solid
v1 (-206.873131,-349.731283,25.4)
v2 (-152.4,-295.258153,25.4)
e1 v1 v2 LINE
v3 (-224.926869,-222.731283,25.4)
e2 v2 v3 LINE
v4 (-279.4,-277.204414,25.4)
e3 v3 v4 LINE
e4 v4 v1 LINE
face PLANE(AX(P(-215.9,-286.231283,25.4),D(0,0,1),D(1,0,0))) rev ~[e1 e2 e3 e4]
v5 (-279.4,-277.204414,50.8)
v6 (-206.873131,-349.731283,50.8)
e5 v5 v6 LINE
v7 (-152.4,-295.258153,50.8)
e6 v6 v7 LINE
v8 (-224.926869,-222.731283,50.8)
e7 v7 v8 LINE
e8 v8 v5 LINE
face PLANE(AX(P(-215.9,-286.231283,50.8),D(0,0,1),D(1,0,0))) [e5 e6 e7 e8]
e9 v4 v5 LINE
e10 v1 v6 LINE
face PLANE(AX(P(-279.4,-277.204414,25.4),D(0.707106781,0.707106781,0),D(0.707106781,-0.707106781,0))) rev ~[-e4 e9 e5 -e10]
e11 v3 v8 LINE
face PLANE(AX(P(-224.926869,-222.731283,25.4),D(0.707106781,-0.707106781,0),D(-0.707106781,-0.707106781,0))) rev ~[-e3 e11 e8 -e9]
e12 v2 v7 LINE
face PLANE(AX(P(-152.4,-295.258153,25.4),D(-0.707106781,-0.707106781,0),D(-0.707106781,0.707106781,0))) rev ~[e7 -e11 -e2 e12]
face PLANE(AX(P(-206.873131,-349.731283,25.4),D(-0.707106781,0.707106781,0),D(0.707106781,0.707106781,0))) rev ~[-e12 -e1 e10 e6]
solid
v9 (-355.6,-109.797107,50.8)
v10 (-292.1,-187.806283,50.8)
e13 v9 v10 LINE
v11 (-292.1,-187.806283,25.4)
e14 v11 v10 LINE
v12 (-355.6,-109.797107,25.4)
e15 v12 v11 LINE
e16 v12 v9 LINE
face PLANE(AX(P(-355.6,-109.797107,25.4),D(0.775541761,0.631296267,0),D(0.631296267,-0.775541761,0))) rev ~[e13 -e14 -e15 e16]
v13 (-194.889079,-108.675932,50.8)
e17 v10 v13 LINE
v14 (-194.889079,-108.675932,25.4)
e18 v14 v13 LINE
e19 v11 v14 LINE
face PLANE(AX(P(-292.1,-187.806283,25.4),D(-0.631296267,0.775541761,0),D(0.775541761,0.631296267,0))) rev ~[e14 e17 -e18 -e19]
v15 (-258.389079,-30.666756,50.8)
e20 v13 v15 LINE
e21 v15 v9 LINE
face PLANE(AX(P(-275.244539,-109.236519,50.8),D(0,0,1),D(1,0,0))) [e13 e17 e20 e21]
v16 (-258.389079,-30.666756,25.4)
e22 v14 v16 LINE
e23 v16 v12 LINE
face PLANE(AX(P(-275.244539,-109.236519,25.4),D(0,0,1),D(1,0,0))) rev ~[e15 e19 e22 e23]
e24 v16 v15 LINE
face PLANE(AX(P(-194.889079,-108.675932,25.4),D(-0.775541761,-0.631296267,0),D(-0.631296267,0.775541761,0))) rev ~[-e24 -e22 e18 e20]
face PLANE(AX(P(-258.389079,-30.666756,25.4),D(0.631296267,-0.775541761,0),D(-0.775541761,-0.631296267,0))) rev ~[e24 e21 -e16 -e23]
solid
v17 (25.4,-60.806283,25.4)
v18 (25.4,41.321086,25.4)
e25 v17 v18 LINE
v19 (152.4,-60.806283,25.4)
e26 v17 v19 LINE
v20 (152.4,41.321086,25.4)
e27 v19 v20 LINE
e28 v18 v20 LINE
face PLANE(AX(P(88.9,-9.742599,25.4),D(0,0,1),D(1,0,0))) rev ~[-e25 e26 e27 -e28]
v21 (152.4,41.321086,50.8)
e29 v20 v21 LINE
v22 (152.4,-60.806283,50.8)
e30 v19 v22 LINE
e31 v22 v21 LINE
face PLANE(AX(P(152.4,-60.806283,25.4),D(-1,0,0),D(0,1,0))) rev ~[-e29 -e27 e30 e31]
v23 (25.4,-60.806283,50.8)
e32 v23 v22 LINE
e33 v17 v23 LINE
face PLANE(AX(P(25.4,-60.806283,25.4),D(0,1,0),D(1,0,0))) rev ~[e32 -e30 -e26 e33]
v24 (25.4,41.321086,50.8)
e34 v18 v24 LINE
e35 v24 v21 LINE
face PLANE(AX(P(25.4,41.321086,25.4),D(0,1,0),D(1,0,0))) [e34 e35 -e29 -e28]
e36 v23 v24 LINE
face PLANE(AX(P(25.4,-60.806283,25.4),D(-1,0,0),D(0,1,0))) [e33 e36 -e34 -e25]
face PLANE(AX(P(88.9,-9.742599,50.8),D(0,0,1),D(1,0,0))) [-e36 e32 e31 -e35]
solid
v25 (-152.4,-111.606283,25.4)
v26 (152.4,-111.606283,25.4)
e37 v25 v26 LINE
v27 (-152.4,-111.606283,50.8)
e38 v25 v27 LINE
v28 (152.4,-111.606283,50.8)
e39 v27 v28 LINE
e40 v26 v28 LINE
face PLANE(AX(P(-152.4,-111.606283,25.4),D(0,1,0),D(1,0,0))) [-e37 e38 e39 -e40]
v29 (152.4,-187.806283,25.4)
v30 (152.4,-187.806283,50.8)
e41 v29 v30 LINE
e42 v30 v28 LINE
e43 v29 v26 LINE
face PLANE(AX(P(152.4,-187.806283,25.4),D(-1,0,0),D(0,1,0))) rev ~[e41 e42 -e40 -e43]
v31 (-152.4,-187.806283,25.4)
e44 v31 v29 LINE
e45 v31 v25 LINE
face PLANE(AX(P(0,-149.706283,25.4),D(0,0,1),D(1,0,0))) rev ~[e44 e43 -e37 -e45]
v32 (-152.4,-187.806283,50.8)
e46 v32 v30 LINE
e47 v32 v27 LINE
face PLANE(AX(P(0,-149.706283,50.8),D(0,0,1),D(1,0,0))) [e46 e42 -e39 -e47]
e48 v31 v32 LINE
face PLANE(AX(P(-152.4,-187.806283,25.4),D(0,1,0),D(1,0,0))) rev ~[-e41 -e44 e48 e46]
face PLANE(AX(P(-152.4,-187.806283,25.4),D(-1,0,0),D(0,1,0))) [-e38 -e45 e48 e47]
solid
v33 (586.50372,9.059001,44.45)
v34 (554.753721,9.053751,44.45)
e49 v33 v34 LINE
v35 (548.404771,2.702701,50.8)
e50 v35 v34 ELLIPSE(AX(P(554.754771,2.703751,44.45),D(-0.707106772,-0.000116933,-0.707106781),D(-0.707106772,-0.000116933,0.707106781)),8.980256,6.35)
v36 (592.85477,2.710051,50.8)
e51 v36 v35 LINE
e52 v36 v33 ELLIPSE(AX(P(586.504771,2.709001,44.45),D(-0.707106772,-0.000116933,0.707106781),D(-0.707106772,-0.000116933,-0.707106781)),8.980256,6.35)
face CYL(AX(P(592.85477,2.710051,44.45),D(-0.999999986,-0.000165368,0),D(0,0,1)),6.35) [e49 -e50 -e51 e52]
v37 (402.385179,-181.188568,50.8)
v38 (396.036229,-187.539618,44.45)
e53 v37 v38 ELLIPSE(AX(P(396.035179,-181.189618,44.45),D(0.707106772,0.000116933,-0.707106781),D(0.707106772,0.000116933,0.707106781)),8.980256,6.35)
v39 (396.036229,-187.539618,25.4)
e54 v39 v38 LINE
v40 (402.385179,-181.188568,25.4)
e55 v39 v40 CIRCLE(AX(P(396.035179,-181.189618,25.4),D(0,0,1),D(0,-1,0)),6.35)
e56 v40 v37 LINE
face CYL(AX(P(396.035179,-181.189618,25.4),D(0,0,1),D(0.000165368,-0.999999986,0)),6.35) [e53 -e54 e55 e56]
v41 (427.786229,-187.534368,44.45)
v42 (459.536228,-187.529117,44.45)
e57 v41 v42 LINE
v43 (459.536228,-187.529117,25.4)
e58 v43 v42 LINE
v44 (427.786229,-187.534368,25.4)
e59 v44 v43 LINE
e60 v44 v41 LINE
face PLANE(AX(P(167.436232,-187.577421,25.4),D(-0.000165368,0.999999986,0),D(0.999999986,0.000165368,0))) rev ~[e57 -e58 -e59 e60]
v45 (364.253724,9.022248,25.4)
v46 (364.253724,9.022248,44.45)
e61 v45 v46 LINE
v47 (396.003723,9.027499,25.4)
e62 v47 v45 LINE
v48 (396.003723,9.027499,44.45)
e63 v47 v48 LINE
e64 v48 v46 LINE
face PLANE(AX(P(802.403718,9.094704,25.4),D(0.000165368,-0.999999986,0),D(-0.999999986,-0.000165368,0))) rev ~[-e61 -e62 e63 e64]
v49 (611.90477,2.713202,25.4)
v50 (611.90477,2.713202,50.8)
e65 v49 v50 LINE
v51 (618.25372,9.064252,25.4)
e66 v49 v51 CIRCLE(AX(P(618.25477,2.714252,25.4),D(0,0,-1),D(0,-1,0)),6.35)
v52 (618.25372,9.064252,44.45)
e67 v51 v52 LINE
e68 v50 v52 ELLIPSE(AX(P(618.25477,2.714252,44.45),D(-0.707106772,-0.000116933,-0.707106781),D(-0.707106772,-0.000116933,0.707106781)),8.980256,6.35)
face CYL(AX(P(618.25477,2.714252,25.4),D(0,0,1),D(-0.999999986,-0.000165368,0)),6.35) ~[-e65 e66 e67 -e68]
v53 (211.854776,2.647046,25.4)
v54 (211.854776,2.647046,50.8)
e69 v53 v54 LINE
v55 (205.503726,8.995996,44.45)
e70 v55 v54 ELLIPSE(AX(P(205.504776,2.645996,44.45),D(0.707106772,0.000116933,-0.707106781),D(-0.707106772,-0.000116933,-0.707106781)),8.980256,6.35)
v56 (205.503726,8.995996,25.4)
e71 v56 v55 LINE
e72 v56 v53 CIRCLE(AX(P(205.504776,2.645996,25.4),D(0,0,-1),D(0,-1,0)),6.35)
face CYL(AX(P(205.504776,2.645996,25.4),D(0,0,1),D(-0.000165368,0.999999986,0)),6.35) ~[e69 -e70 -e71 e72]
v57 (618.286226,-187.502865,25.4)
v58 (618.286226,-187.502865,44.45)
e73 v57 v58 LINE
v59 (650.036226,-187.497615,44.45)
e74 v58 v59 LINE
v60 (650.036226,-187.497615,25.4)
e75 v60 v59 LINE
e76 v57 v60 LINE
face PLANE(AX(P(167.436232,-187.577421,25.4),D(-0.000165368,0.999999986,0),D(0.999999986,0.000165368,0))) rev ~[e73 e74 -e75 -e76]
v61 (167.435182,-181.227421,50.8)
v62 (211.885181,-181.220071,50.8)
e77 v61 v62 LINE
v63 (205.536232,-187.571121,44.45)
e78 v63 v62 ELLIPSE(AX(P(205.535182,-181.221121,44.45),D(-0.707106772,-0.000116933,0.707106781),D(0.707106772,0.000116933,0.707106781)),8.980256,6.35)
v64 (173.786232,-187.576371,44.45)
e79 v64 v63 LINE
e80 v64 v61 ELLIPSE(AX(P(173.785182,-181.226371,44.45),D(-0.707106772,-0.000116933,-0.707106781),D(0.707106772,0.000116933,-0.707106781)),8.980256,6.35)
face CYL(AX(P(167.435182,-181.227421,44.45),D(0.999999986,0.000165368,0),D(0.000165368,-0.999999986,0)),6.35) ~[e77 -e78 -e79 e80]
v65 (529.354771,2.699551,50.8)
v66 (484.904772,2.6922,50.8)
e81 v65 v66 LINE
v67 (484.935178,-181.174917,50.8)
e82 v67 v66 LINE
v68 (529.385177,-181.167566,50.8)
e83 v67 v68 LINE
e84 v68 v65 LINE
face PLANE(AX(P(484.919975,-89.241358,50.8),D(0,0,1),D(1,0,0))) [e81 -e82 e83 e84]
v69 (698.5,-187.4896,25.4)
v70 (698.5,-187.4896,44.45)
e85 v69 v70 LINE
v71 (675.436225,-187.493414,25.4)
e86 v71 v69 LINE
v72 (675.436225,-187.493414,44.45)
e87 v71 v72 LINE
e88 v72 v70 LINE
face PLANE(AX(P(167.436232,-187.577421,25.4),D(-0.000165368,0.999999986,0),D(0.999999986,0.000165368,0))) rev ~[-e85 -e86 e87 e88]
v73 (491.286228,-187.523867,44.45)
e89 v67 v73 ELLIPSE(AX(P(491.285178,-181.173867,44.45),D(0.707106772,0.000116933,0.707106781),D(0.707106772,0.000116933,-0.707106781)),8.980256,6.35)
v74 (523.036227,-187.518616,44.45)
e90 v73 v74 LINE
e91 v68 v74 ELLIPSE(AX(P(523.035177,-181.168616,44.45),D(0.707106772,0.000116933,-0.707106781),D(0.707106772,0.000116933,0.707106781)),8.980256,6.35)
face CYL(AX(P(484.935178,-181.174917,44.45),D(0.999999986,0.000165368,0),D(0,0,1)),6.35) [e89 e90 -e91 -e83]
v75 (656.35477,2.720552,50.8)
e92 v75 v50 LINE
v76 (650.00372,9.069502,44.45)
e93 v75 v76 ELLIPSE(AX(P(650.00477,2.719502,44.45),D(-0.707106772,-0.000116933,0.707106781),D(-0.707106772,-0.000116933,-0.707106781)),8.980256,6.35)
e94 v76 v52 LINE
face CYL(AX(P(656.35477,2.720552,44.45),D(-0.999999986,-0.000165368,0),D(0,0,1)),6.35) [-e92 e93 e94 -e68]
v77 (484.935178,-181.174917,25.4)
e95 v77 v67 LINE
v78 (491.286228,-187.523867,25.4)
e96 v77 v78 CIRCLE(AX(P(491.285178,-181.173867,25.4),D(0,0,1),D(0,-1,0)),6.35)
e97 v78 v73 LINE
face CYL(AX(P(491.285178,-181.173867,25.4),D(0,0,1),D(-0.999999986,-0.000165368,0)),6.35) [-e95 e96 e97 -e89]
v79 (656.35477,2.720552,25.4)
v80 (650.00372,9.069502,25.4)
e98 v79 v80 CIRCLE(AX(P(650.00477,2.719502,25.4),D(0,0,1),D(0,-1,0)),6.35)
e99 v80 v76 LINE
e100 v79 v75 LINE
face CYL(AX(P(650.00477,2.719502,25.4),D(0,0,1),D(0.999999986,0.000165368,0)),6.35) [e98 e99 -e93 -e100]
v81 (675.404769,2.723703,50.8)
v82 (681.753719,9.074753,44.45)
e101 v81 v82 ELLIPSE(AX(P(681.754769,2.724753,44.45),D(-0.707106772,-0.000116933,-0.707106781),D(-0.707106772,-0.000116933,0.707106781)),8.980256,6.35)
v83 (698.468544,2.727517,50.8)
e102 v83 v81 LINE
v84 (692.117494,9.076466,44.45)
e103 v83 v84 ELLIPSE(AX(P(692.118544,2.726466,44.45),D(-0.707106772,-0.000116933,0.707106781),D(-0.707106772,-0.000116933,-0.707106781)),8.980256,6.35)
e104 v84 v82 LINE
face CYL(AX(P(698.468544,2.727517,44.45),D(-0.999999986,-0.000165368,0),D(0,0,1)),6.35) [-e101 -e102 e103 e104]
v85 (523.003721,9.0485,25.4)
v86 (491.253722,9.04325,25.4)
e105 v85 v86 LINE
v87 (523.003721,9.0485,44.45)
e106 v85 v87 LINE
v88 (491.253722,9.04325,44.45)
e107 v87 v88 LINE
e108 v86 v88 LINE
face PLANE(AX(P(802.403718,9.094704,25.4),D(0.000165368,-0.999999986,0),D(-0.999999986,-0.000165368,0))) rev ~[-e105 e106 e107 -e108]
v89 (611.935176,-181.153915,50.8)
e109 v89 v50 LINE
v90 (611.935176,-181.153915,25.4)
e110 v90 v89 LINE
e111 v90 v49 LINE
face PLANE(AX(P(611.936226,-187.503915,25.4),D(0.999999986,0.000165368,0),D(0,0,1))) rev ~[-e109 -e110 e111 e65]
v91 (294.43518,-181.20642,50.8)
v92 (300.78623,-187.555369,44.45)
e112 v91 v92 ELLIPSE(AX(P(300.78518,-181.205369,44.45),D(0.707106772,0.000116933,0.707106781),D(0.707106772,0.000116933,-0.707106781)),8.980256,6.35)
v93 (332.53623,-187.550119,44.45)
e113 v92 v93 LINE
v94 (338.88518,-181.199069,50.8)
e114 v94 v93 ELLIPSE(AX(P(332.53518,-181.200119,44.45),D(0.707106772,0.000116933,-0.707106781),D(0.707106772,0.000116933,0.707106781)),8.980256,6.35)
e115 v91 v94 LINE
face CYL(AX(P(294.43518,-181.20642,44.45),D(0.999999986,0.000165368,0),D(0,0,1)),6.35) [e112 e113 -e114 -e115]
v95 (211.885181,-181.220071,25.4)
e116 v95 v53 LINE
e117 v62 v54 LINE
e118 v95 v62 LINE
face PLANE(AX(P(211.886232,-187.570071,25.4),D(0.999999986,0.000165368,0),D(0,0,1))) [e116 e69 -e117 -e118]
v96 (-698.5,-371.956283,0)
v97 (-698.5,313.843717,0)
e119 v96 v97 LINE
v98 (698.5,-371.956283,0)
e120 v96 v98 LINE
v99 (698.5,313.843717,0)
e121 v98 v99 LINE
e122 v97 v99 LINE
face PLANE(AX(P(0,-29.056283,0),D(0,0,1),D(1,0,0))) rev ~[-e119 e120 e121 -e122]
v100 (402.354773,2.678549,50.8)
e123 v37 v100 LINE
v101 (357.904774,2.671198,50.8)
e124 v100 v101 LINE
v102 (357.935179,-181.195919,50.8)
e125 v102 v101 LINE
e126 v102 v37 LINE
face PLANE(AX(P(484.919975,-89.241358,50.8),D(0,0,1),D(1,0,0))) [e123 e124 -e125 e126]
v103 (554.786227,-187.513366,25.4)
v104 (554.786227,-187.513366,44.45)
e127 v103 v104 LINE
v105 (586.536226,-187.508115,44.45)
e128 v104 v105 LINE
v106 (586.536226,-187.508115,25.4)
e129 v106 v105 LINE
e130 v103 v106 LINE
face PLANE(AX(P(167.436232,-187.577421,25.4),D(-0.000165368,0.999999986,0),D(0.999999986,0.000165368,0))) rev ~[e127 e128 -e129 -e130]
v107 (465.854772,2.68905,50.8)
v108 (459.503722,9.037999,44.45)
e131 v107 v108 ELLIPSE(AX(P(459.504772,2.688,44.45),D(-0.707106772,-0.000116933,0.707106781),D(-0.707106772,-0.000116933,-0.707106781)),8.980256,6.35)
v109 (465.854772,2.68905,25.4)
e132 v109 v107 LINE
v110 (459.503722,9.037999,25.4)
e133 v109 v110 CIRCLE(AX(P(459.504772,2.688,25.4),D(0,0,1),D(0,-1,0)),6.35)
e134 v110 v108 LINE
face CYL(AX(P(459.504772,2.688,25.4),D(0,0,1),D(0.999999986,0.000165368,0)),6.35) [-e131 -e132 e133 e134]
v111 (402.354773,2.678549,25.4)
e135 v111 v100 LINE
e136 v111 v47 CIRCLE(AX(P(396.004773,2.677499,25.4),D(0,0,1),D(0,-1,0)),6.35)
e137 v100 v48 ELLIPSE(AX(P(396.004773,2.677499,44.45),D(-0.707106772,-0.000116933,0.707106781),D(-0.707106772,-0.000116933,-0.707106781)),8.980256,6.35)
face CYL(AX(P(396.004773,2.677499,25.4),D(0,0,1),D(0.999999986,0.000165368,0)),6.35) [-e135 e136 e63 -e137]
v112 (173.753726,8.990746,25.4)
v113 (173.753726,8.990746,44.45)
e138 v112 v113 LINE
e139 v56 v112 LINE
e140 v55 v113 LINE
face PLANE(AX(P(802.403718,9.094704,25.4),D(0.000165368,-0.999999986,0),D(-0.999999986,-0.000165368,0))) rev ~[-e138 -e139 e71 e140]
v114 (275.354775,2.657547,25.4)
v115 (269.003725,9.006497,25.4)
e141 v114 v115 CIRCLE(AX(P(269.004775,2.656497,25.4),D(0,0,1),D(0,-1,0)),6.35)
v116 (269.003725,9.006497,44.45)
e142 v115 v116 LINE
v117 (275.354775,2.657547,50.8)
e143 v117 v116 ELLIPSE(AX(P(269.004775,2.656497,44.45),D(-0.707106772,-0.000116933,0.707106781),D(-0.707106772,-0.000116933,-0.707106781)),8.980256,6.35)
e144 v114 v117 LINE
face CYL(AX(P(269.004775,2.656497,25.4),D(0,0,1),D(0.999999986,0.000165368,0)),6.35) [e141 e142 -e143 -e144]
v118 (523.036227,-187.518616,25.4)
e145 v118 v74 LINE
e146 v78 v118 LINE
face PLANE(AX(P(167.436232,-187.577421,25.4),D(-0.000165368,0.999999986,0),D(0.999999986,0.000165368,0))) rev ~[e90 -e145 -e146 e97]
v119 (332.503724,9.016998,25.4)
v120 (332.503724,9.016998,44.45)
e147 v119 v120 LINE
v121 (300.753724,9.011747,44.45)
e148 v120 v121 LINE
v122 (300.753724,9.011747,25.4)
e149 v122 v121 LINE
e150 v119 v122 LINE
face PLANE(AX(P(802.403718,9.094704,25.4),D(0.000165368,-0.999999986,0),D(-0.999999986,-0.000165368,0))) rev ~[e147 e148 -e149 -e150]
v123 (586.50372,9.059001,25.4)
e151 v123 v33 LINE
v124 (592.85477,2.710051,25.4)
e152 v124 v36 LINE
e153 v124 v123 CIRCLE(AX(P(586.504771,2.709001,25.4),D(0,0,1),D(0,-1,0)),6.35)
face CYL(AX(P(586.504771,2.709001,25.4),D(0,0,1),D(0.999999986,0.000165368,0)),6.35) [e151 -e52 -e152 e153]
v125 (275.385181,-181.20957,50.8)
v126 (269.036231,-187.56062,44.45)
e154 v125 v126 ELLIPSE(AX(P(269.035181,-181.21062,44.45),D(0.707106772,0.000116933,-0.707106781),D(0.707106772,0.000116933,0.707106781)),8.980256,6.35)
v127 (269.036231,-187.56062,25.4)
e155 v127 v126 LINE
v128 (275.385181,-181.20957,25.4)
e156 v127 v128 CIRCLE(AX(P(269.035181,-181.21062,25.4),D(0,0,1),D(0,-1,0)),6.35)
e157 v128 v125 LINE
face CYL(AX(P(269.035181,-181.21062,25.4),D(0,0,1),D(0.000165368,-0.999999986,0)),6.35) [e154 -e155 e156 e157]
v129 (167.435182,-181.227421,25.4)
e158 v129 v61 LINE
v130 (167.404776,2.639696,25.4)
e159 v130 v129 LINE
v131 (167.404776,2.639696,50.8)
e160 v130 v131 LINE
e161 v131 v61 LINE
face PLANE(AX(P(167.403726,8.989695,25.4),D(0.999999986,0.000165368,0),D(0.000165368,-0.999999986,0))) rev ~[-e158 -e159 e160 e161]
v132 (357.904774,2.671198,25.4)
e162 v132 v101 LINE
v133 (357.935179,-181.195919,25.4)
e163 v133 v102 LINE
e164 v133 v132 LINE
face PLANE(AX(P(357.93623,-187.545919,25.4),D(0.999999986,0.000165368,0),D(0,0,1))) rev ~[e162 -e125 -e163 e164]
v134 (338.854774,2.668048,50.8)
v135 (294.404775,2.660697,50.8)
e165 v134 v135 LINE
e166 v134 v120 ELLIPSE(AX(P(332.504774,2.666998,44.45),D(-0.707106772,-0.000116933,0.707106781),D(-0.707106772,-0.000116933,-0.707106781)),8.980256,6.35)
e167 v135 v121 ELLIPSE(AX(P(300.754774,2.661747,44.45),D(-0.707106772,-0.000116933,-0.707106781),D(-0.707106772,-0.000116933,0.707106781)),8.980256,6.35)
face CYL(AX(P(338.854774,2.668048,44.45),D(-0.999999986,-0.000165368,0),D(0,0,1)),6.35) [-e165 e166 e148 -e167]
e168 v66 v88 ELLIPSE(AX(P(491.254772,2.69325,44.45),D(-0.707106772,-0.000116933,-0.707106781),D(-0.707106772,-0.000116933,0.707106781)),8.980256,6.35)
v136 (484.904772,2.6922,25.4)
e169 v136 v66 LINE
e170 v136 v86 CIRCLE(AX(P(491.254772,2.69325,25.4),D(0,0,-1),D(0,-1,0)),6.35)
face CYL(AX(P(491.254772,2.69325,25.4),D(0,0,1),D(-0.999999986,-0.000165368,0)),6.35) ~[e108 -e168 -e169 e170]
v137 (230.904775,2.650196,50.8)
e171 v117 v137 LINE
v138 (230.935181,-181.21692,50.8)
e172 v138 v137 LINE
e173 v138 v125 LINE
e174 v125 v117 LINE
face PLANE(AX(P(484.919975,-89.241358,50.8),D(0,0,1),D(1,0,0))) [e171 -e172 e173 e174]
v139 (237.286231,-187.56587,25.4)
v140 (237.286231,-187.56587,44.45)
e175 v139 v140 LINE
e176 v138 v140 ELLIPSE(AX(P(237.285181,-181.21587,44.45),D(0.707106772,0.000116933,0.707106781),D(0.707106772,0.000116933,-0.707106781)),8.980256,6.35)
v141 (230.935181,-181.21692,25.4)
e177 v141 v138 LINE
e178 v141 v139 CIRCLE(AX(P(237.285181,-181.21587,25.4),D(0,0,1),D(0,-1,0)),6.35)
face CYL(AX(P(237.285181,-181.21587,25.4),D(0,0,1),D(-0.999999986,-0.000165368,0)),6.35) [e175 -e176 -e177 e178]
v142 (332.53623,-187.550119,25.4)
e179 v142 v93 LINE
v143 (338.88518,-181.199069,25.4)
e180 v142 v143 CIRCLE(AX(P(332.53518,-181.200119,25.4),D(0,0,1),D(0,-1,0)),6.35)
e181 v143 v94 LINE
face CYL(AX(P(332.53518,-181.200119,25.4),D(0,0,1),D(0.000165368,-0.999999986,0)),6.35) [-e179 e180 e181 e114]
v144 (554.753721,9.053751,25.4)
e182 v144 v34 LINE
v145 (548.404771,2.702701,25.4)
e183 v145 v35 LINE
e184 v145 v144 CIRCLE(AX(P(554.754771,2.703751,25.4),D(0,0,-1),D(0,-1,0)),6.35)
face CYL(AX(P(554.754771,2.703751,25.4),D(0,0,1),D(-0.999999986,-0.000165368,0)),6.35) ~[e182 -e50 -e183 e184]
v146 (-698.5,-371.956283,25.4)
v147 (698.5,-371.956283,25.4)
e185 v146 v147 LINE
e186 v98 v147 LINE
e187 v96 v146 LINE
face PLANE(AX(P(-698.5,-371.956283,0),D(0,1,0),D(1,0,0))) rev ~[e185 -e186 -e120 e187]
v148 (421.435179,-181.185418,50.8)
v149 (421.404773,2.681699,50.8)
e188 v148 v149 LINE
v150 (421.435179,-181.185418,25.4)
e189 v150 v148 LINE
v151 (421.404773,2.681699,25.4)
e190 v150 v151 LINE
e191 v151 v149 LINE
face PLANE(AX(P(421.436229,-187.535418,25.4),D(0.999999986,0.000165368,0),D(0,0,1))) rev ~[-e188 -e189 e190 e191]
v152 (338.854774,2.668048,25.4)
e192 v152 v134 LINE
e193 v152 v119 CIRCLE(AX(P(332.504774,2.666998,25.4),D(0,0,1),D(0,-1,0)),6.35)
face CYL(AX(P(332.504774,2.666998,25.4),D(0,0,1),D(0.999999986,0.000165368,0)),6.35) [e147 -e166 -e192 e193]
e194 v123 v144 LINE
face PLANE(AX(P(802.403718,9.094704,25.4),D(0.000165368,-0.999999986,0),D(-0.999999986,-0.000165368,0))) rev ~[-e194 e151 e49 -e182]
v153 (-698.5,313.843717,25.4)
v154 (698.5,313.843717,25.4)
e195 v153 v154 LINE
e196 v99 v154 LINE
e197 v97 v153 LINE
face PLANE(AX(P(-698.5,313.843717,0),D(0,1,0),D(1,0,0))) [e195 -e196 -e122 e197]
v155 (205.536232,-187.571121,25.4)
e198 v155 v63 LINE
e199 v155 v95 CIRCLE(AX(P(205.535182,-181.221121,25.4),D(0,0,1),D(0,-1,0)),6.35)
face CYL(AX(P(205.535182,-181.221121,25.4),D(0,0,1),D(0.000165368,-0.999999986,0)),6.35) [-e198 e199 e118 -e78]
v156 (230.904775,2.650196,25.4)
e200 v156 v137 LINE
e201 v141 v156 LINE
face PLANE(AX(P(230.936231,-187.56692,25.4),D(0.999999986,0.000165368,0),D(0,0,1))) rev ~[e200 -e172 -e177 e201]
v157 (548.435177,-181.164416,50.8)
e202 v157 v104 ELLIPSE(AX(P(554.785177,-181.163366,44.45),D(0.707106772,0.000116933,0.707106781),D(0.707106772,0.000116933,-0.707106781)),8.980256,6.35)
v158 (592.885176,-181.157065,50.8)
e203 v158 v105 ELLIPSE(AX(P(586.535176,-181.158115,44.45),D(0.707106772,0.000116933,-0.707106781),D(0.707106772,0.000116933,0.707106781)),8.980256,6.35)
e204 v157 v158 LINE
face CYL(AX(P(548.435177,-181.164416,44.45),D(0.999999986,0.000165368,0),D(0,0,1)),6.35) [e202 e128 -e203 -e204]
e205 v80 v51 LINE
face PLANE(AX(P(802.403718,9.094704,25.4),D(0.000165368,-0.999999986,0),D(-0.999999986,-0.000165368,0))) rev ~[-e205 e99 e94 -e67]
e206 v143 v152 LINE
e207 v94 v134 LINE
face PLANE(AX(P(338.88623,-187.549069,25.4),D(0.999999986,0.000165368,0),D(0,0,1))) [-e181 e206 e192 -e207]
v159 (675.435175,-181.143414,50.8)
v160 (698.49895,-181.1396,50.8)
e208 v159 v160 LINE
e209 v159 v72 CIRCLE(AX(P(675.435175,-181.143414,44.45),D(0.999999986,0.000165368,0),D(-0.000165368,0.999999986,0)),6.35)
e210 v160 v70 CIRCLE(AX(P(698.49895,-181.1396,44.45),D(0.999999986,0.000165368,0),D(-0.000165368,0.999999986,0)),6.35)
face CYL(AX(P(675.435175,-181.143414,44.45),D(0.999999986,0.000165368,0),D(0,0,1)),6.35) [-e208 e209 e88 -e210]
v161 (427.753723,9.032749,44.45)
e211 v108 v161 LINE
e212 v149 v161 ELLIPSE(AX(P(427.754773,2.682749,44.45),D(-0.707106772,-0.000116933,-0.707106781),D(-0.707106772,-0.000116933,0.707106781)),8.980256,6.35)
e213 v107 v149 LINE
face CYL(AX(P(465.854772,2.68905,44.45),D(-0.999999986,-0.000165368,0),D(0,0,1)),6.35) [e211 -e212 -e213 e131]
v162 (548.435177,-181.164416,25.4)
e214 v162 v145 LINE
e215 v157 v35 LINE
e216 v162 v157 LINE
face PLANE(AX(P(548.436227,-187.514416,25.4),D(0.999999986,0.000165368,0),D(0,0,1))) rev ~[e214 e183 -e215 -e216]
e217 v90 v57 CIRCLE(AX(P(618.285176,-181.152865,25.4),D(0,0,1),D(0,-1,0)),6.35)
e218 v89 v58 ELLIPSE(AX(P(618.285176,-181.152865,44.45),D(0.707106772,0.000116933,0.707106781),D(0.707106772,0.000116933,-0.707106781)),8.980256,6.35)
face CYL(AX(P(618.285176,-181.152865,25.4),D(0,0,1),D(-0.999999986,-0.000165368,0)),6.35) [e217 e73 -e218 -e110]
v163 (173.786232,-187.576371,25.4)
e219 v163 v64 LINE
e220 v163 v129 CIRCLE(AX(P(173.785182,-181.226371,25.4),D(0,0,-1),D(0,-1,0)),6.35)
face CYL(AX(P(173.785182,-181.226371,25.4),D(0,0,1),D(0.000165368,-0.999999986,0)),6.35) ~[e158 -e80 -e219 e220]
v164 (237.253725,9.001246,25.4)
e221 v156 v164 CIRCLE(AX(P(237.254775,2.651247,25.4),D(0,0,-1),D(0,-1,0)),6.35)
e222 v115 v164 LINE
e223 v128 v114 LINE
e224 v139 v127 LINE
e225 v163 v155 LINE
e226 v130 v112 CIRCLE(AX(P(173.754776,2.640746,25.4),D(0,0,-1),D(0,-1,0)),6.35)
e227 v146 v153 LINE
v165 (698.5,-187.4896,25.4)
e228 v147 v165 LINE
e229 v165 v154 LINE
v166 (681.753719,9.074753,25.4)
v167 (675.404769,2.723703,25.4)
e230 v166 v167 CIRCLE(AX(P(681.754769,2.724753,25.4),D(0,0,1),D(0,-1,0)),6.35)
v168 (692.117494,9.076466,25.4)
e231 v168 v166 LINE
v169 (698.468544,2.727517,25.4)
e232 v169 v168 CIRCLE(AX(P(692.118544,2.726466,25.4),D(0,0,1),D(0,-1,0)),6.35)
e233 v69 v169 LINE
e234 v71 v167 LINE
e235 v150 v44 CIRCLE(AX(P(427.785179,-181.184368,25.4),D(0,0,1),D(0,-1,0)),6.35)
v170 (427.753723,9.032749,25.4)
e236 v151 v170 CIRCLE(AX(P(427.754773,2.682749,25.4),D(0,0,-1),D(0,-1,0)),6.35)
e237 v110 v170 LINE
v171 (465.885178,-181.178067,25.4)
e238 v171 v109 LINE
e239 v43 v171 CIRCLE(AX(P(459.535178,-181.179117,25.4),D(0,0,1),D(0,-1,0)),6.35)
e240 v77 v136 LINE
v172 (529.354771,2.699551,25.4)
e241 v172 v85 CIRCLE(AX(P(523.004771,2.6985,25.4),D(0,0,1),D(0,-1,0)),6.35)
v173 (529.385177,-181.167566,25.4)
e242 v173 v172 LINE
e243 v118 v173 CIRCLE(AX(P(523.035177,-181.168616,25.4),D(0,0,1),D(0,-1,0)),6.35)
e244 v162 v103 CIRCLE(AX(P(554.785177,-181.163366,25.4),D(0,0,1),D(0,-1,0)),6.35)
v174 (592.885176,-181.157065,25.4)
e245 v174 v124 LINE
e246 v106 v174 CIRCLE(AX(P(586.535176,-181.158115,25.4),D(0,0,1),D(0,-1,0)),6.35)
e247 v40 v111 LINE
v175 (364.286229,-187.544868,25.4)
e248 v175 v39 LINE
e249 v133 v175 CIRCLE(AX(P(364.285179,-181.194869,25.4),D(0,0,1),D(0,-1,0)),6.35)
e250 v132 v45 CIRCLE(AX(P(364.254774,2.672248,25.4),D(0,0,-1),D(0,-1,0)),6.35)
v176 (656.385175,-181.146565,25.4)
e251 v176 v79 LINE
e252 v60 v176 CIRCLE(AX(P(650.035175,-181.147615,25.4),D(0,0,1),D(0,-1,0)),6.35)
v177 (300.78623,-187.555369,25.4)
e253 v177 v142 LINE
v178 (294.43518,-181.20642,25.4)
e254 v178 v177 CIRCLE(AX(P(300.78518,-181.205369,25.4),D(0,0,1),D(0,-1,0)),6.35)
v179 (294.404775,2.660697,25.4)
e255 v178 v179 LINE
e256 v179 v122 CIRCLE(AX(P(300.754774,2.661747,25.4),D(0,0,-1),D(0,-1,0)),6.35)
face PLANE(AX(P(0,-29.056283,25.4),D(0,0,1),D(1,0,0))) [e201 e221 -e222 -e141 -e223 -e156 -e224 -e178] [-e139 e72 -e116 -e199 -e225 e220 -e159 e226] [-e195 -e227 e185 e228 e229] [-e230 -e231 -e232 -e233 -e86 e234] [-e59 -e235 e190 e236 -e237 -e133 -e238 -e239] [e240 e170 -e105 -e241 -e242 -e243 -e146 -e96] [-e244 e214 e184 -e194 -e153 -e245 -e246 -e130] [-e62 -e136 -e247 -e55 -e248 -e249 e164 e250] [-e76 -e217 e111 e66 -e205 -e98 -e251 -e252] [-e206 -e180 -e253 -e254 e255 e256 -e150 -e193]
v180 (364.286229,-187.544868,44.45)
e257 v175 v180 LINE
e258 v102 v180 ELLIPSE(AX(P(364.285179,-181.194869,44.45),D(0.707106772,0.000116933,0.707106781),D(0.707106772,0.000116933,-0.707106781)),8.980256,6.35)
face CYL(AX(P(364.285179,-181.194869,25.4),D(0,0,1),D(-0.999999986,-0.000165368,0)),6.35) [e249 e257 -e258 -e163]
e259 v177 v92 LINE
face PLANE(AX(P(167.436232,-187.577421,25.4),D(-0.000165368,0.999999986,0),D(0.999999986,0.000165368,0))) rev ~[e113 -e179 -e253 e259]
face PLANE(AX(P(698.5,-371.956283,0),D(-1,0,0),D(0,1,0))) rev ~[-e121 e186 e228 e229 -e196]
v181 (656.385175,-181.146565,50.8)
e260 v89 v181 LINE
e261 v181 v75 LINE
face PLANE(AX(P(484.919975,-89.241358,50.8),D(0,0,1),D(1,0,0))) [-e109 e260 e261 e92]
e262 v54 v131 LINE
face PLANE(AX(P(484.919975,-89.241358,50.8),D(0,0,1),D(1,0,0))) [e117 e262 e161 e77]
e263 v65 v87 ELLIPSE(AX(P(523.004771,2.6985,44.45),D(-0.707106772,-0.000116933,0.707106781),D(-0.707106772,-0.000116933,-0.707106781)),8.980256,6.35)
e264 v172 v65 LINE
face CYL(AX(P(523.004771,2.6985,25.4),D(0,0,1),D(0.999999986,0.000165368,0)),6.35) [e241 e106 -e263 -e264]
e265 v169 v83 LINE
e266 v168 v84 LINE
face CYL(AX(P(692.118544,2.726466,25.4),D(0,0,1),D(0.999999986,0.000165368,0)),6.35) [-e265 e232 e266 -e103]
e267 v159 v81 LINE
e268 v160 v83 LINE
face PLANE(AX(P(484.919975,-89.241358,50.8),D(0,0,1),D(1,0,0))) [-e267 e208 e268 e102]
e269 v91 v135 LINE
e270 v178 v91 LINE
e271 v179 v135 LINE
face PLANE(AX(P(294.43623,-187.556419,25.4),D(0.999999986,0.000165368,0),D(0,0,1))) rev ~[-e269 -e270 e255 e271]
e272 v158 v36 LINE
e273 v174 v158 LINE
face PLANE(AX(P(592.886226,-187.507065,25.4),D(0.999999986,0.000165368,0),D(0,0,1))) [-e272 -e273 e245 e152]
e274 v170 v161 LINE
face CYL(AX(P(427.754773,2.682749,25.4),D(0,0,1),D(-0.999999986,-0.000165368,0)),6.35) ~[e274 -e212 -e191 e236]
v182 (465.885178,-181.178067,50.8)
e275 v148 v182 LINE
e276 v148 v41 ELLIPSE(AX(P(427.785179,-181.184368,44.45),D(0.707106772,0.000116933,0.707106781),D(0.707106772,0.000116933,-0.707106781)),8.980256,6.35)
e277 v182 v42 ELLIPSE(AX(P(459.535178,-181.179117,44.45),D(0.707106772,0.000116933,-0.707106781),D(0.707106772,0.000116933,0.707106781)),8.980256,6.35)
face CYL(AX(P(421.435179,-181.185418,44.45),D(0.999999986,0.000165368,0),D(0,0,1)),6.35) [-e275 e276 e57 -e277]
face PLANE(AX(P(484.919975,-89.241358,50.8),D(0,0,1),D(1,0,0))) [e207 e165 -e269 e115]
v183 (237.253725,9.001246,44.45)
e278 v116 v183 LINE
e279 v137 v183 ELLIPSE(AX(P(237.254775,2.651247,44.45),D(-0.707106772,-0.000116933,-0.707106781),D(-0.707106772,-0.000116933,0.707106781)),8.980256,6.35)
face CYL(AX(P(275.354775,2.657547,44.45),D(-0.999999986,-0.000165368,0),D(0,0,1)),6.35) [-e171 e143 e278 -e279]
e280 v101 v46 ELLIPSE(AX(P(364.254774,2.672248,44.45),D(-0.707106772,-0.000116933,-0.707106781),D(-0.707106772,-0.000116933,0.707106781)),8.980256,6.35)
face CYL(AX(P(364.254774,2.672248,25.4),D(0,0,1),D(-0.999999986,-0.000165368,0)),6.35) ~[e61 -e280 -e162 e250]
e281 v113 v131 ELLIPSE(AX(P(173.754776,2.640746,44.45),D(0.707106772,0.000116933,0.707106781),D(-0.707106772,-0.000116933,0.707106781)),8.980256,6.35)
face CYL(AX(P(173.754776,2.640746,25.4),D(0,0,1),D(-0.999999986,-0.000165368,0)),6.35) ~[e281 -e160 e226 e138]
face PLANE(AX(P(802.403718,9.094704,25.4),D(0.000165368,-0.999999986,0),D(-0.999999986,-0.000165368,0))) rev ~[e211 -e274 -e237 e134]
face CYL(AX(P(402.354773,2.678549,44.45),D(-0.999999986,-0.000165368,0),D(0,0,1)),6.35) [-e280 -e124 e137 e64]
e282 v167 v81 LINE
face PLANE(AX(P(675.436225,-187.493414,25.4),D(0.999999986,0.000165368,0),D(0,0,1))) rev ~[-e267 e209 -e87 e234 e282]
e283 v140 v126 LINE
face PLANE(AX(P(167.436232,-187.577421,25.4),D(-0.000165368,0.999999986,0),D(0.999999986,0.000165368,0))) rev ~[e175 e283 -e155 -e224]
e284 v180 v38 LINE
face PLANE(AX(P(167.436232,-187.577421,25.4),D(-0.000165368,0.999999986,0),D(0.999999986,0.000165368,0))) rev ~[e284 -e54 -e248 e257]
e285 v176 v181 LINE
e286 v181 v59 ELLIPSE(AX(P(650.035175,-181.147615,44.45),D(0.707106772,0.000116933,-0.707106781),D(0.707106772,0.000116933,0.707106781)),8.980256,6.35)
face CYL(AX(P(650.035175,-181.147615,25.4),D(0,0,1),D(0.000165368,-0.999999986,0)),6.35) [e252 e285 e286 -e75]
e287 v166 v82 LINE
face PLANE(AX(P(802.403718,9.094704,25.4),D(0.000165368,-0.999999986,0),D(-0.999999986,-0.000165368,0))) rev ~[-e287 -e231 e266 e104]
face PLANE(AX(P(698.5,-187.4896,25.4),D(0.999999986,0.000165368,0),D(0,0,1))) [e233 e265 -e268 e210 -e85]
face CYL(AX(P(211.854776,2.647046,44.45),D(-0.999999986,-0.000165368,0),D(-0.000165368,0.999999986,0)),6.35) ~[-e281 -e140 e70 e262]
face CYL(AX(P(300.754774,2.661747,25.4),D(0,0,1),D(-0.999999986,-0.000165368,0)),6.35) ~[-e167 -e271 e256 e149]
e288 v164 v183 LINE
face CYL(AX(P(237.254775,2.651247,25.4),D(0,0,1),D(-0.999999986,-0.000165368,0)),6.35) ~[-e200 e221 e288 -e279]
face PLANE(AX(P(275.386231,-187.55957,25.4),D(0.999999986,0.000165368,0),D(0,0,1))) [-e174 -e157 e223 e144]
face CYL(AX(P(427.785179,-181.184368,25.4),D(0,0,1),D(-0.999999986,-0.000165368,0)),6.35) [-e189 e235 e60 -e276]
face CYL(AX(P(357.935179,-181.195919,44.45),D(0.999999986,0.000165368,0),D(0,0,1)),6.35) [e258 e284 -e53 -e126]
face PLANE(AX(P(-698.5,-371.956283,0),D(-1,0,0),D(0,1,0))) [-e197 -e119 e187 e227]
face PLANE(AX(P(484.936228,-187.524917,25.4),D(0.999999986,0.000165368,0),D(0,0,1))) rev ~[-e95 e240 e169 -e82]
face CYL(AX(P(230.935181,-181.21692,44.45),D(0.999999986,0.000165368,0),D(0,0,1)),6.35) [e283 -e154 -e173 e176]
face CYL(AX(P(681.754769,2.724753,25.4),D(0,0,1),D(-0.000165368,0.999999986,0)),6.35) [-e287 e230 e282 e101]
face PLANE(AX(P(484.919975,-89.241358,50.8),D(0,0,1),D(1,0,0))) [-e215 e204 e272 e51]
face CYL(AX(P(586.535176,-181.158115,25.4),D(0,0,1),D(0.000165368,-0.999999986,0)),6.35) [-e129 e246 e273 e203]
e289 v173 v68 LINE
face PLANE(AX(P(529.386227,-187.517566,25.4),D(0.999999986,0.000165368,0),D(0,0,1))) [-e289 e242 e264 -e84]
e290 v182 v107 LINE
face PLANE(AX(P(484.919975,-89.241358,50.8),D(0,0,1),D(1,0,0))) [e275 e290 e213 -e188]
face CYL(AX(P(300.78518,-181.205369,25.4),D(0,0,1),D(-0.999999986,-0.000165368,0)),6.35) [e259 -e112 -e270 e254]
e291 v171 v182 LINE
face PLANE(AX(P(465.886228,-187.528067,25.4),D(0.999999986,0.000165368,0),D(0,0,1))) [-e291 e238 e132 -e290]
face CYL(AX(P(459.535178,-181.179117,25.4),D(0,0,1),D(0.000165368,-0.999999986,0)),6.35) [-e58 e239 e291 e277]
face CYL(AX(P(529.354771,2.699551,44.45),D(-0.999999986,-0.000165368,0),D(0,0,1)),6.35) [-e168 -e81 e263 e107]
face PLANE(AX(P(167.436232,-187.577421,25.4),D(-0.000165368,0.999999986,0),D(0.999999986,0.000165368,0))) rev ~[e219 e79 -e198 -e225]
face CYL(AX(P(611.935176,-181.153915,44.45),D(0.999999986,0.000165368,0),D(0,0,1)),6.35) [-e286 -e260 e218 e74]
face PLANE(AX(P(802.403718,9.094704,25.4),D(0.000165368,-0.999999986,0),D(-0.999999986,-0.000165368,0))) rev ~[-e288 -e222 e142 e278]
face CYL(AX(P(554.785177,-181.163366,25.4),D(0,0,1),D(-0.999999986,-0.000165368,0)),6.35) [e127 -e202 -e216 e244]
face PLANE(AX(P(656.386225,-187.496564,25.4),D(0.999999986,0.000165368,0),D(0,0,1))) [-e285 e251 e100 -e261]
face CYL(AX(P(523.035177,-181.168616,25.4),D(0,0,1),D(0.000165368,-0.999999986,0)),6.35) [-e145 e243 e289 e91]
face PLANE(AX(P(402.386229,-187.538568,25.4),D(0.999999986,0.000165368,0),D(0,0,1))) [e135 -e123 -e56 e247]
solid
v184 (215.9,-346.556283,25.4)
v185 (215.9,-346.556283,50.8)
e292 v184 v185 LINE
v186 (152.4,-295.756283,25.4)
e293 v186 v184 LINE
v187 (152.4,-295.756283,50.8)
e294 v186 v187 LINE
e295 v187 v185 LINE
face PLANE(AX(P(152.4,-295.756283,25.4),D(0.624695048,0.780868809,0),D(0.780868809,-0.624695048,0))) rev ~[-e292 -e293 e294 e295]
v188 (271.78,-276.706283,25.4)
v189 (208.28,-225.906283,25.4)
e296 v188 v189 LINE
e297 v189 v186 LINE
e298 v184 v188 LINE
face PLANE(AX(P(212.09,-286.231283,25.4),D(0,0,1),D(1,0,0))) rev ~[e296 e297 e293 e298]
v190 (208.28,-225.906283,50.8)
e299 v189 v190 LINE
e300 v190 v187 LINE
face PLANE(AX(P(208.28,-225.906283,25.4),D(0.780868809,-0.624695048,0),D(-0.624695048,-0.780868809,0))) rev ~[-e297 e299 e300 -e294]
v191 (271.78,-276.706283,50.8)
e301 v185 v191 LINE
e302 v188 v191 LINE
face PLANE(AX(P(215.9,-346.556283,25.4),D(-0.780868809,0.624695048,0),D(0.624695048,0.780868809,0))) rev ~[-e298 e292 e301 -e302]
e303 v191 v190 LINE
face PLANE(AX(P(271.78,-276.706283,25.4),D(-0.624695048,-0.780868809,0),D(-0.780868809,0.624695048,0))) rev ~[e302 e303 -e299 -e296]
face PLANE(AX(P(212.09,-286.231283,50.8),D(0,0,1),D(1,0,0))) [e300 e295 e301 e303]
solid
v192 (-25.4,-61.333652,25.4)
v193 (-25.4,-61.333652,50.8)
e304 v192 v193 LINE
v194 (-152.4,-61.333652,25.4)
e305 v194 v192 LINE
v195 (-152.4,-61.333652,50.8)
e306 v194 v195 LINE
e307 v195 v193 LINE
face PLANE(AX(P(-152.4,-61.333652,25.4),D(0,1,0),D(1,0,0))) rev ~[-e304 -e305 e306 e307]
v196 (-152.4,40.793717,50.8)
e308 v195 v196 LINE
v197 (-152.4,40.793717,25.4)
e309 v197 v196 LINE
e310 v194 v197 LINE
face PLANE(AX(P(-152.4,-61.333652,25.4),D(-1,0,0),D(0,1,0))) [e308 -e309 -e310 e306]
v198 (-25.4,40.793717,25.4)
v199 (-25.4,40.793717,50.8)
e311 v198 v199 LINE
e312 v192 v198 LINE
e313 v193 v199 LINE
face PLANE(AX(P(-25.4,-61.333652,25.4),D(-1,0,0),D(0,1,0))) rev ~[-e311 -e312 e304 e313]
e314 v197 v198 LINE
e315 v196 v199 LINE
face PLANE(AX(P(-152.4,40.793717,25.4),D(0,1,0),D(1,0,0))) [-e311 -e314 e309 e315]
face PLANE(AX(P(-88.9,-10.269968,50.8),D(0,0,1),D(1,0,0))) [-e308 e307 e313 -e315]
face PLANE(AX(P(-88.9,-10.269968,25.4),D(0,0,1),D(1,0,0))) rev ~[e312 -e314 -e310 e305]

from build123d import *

# Parameters (mm, degrees)
F0_W     = 1397
F0_H     = 685.8
F1_DEPTH = 25.4
F2_W     = 304.8
F2_H     = 76.2
F3_DEPTH = 25.4
F2_W_2   = 127
F2_H_2   = 102.1273690268
F5_DEPTH = 25.4
F6_W     = 103.9362248944
F6_H     = 25.4
F6_W_2   = 19.05
F7_DEPTH = 203.2
F8_R     = 6.35


with BuildPart() as f1:
    # F0 (on Top) → F1 (new body)
    with BuildSketch(Plane.XY):
        with Locations((0, -29.0562831177)):
            Rectangle(F0_W, F0_H)
    extrude(amount=F1_DEPTH)

    # F4 (on face) → F5 (join)
    with BuildSketch(Plane.XY.offset(25.4)):
        Polygon((167.4362321558, -187.5774211861), (802.4362234732, -187.4724123998), (802.4037175289, 9.0947042382), (167.4037262115, 8.9896954519), align=None)
    extrude(amount=F5_DEPTH)

    # F6 (on face) → F7 (cut)
    with BuildSketch(Plane(origin=(0.0310239128, -187.605104679, 0), x_dir=(0.9999999863, 0.0001653682, 0), z_dir=(0.0001653682, -0.9999999863, 0))):
        with Locations((750.4370980848, 38.1)):
            Rectangle(F6_W, F6_H)
        with Locations((665.880210532, 38.1)):
            Rectangle(F6_W_2, F6_H)
        with Locations((602.380210532, 38.1)):
            Rectangle(F6_W_2, F6_H)
        with Locations((538.880210532, 38.1)):
            Rectangle(F6_W_2, F6_H)
        with Locations((475.380210532, 38.1)):
            Rectangle(F6_W_2, F6_H)
        with Locations((411.880210532, 38.1)):
            Rectangle(F6_W_2, F6_H)
        with Locations((348.380210532, 38.1)):
            Rectangle(F6_W_2, F6_H)
        with Locations((284.880210532, 38.1)):
            Rectangle(F6_W_2, F6_H)
        with Locations((221.380210532, 38.1)):
            Rectangle(F6_W_2, F6_H)
    extrude(amount=-F7_DEPTH, mode=Mode.SUBTRACT)

    # F8
    f8_edges = [f1.edges().sort_by_distance(p)[0] for p in [
        (189.661232, -187.573746, 50.8),
        (253.161231, -187.563245, 50.8),
        (316.66123, -187.552744, 50.8),
        (380.161229, -187.542243, 50.8),
        (443.661228, -187.531742, 50.8),
        (507.161228, -187.521241, 50.8),
        (570.661227, -187.510741, 50.8),
        (634.161226, -187.50024, 50.8),
        (634.12872, 9.066877, 50.8),
        (686.935607, 9.075609, 50.8),
        (686.968113, -187.491507, 50.8),
        (570.628721, 9.056376, 50.8),
        (507.128722, 9.045875, 50.8),
        (443.628722, 9.035374, 50.8),
        (189.628726, 8.993371, 50.8),
        (253.128725, 9.003872, 50.8),
        (316.628724, 9.014373, 50.8),
        (380.128723, 9.024873, 50.8),
        (167.436232, -187.577421, 38.1),
        (211.886232, -187.570071, 38.1),
        (230.936231, -187.56692, 38.1),
        (275.386231, -187.55957, 38.1),
        (294.43623, -187.556419, 38.1),
        (338.88623, -187.549069, 38.1),
        (357.93623, -187.545919, 38.1),
        (402.386229, -187.538568, 38.1),
        (421.436229, -187.535418, 38.1),
        (465.886228, -187.528067, 38.1),
        (484.936228, -187.524917, 38.1),
        (529.386227, -187.517566, 38.1),
        (548.436227, -187.514416, 38.1),
        (592.886226, -187.507065, 38.1),
        (611.936226, -187.503915, 38.1),
        (656.386225, -187.496564, 38.1),
        (211.853726, 8.997046, 38.1),
        (167.403726, 8.989695, 38.1),
        (230.903725, 9.000196, 38.1),
        (275.353725, 9.007547, 38.1),
        (294.403724, 9.010697, 38.1),
        (338.853724, 9.018048, 38.1),
        (357.903724, 9.021198, 38.1),
        (402.353723, 9.028549, 38.1),
        (421.403723, 9.031699, 38.1),
        (465.853722, 9.03905, 38.1),
        (484.903722, 9.0422, 38.1),
        (529.353721, 9.04955, 38.1),
        (548.403721, 9.052701, 38.1),
        (592.85372, 9.060051, 38.1),
        (611.90372, 9.063202, 38.1),
        (656.35372, 9.070552, 38.1),
        (675.403719, 9.073702, 38.1),
        (698.467494, 9.077516, 38.1),
    ]]
    fillet(f8_edges, radius=F8_R)


with BuildPart() as f3:
    # F2 (on face) → F3 (new body)
    with BuildSketch(Plane.XY.offset(25.4)):
        with Locations((0, -149.7062831177)):
            Rectangle(F2_W, F2_H)
    extrude(amount=F3_DEPTH)


with BuildPart() as f3b:
    # F2 (on face) → F3, piece 2 (new body)
    with BuildSketch(Plane.XY.offset(25.4)):
        Polygon((-292.1, -187.8062831177), (-194.8890785103, -108.6759320823), (-258.3890785103, -30.666755656), (-355.6, -109.7971066914), align=None)
    extrude(amount=F3_DEPTH)


with BuildPart() as f3c:
    # F2 (on face) → F3, piece 3 (new body)
    with BuildSketch(Plane.XY.offset(25.4)):
        with Locations((-88.9, -10.2699676311)):
            Rectangle(F2_W_2, F2_H_2)
    extrude(amount=F3_DEPTH)


with BuildPart() as f3d:
    # F2 (on face) → F3, piece 4 (new body)
    with BuildSketch(Plane.XY.offset(25.4)):
        with Locations((88.9, -9.7425986043)):
            Rectangle(F2_W_2, F2_H_2)
    extrude(amount=F3_DEPTH)


with BuildPart() as f3e:
    # F2 (on face) → F3, piece 5 (new body)
    with BuildSketch(Plane.XY.offset(25.4)):
        Polygon((-206.873130602, -349.7312831177), (-152.4, -295.2581525156), (-224.926869398, -222.7312831177), (-279.4, -277.2044137197), align=None)
    extrude(amount=F3_DEPTH)


with BuildPart() as f3f:
    # F2 (on face) → F3, piece 6 (new body)
    with BuildSketch(Plane.XY.offset(25.4)):
        Polygon((152.4, -295.7562831177), (215.9, -346.5562831177), (271.78, -276.7062831177), (208.28, -225.9062831177), align=None)
    extrude(amount=F3_DEPTH)


solid = Compound([f1.part, f3.part, f3b.part, f3c.part, f3d.part, f3e.part, f3f.part])
